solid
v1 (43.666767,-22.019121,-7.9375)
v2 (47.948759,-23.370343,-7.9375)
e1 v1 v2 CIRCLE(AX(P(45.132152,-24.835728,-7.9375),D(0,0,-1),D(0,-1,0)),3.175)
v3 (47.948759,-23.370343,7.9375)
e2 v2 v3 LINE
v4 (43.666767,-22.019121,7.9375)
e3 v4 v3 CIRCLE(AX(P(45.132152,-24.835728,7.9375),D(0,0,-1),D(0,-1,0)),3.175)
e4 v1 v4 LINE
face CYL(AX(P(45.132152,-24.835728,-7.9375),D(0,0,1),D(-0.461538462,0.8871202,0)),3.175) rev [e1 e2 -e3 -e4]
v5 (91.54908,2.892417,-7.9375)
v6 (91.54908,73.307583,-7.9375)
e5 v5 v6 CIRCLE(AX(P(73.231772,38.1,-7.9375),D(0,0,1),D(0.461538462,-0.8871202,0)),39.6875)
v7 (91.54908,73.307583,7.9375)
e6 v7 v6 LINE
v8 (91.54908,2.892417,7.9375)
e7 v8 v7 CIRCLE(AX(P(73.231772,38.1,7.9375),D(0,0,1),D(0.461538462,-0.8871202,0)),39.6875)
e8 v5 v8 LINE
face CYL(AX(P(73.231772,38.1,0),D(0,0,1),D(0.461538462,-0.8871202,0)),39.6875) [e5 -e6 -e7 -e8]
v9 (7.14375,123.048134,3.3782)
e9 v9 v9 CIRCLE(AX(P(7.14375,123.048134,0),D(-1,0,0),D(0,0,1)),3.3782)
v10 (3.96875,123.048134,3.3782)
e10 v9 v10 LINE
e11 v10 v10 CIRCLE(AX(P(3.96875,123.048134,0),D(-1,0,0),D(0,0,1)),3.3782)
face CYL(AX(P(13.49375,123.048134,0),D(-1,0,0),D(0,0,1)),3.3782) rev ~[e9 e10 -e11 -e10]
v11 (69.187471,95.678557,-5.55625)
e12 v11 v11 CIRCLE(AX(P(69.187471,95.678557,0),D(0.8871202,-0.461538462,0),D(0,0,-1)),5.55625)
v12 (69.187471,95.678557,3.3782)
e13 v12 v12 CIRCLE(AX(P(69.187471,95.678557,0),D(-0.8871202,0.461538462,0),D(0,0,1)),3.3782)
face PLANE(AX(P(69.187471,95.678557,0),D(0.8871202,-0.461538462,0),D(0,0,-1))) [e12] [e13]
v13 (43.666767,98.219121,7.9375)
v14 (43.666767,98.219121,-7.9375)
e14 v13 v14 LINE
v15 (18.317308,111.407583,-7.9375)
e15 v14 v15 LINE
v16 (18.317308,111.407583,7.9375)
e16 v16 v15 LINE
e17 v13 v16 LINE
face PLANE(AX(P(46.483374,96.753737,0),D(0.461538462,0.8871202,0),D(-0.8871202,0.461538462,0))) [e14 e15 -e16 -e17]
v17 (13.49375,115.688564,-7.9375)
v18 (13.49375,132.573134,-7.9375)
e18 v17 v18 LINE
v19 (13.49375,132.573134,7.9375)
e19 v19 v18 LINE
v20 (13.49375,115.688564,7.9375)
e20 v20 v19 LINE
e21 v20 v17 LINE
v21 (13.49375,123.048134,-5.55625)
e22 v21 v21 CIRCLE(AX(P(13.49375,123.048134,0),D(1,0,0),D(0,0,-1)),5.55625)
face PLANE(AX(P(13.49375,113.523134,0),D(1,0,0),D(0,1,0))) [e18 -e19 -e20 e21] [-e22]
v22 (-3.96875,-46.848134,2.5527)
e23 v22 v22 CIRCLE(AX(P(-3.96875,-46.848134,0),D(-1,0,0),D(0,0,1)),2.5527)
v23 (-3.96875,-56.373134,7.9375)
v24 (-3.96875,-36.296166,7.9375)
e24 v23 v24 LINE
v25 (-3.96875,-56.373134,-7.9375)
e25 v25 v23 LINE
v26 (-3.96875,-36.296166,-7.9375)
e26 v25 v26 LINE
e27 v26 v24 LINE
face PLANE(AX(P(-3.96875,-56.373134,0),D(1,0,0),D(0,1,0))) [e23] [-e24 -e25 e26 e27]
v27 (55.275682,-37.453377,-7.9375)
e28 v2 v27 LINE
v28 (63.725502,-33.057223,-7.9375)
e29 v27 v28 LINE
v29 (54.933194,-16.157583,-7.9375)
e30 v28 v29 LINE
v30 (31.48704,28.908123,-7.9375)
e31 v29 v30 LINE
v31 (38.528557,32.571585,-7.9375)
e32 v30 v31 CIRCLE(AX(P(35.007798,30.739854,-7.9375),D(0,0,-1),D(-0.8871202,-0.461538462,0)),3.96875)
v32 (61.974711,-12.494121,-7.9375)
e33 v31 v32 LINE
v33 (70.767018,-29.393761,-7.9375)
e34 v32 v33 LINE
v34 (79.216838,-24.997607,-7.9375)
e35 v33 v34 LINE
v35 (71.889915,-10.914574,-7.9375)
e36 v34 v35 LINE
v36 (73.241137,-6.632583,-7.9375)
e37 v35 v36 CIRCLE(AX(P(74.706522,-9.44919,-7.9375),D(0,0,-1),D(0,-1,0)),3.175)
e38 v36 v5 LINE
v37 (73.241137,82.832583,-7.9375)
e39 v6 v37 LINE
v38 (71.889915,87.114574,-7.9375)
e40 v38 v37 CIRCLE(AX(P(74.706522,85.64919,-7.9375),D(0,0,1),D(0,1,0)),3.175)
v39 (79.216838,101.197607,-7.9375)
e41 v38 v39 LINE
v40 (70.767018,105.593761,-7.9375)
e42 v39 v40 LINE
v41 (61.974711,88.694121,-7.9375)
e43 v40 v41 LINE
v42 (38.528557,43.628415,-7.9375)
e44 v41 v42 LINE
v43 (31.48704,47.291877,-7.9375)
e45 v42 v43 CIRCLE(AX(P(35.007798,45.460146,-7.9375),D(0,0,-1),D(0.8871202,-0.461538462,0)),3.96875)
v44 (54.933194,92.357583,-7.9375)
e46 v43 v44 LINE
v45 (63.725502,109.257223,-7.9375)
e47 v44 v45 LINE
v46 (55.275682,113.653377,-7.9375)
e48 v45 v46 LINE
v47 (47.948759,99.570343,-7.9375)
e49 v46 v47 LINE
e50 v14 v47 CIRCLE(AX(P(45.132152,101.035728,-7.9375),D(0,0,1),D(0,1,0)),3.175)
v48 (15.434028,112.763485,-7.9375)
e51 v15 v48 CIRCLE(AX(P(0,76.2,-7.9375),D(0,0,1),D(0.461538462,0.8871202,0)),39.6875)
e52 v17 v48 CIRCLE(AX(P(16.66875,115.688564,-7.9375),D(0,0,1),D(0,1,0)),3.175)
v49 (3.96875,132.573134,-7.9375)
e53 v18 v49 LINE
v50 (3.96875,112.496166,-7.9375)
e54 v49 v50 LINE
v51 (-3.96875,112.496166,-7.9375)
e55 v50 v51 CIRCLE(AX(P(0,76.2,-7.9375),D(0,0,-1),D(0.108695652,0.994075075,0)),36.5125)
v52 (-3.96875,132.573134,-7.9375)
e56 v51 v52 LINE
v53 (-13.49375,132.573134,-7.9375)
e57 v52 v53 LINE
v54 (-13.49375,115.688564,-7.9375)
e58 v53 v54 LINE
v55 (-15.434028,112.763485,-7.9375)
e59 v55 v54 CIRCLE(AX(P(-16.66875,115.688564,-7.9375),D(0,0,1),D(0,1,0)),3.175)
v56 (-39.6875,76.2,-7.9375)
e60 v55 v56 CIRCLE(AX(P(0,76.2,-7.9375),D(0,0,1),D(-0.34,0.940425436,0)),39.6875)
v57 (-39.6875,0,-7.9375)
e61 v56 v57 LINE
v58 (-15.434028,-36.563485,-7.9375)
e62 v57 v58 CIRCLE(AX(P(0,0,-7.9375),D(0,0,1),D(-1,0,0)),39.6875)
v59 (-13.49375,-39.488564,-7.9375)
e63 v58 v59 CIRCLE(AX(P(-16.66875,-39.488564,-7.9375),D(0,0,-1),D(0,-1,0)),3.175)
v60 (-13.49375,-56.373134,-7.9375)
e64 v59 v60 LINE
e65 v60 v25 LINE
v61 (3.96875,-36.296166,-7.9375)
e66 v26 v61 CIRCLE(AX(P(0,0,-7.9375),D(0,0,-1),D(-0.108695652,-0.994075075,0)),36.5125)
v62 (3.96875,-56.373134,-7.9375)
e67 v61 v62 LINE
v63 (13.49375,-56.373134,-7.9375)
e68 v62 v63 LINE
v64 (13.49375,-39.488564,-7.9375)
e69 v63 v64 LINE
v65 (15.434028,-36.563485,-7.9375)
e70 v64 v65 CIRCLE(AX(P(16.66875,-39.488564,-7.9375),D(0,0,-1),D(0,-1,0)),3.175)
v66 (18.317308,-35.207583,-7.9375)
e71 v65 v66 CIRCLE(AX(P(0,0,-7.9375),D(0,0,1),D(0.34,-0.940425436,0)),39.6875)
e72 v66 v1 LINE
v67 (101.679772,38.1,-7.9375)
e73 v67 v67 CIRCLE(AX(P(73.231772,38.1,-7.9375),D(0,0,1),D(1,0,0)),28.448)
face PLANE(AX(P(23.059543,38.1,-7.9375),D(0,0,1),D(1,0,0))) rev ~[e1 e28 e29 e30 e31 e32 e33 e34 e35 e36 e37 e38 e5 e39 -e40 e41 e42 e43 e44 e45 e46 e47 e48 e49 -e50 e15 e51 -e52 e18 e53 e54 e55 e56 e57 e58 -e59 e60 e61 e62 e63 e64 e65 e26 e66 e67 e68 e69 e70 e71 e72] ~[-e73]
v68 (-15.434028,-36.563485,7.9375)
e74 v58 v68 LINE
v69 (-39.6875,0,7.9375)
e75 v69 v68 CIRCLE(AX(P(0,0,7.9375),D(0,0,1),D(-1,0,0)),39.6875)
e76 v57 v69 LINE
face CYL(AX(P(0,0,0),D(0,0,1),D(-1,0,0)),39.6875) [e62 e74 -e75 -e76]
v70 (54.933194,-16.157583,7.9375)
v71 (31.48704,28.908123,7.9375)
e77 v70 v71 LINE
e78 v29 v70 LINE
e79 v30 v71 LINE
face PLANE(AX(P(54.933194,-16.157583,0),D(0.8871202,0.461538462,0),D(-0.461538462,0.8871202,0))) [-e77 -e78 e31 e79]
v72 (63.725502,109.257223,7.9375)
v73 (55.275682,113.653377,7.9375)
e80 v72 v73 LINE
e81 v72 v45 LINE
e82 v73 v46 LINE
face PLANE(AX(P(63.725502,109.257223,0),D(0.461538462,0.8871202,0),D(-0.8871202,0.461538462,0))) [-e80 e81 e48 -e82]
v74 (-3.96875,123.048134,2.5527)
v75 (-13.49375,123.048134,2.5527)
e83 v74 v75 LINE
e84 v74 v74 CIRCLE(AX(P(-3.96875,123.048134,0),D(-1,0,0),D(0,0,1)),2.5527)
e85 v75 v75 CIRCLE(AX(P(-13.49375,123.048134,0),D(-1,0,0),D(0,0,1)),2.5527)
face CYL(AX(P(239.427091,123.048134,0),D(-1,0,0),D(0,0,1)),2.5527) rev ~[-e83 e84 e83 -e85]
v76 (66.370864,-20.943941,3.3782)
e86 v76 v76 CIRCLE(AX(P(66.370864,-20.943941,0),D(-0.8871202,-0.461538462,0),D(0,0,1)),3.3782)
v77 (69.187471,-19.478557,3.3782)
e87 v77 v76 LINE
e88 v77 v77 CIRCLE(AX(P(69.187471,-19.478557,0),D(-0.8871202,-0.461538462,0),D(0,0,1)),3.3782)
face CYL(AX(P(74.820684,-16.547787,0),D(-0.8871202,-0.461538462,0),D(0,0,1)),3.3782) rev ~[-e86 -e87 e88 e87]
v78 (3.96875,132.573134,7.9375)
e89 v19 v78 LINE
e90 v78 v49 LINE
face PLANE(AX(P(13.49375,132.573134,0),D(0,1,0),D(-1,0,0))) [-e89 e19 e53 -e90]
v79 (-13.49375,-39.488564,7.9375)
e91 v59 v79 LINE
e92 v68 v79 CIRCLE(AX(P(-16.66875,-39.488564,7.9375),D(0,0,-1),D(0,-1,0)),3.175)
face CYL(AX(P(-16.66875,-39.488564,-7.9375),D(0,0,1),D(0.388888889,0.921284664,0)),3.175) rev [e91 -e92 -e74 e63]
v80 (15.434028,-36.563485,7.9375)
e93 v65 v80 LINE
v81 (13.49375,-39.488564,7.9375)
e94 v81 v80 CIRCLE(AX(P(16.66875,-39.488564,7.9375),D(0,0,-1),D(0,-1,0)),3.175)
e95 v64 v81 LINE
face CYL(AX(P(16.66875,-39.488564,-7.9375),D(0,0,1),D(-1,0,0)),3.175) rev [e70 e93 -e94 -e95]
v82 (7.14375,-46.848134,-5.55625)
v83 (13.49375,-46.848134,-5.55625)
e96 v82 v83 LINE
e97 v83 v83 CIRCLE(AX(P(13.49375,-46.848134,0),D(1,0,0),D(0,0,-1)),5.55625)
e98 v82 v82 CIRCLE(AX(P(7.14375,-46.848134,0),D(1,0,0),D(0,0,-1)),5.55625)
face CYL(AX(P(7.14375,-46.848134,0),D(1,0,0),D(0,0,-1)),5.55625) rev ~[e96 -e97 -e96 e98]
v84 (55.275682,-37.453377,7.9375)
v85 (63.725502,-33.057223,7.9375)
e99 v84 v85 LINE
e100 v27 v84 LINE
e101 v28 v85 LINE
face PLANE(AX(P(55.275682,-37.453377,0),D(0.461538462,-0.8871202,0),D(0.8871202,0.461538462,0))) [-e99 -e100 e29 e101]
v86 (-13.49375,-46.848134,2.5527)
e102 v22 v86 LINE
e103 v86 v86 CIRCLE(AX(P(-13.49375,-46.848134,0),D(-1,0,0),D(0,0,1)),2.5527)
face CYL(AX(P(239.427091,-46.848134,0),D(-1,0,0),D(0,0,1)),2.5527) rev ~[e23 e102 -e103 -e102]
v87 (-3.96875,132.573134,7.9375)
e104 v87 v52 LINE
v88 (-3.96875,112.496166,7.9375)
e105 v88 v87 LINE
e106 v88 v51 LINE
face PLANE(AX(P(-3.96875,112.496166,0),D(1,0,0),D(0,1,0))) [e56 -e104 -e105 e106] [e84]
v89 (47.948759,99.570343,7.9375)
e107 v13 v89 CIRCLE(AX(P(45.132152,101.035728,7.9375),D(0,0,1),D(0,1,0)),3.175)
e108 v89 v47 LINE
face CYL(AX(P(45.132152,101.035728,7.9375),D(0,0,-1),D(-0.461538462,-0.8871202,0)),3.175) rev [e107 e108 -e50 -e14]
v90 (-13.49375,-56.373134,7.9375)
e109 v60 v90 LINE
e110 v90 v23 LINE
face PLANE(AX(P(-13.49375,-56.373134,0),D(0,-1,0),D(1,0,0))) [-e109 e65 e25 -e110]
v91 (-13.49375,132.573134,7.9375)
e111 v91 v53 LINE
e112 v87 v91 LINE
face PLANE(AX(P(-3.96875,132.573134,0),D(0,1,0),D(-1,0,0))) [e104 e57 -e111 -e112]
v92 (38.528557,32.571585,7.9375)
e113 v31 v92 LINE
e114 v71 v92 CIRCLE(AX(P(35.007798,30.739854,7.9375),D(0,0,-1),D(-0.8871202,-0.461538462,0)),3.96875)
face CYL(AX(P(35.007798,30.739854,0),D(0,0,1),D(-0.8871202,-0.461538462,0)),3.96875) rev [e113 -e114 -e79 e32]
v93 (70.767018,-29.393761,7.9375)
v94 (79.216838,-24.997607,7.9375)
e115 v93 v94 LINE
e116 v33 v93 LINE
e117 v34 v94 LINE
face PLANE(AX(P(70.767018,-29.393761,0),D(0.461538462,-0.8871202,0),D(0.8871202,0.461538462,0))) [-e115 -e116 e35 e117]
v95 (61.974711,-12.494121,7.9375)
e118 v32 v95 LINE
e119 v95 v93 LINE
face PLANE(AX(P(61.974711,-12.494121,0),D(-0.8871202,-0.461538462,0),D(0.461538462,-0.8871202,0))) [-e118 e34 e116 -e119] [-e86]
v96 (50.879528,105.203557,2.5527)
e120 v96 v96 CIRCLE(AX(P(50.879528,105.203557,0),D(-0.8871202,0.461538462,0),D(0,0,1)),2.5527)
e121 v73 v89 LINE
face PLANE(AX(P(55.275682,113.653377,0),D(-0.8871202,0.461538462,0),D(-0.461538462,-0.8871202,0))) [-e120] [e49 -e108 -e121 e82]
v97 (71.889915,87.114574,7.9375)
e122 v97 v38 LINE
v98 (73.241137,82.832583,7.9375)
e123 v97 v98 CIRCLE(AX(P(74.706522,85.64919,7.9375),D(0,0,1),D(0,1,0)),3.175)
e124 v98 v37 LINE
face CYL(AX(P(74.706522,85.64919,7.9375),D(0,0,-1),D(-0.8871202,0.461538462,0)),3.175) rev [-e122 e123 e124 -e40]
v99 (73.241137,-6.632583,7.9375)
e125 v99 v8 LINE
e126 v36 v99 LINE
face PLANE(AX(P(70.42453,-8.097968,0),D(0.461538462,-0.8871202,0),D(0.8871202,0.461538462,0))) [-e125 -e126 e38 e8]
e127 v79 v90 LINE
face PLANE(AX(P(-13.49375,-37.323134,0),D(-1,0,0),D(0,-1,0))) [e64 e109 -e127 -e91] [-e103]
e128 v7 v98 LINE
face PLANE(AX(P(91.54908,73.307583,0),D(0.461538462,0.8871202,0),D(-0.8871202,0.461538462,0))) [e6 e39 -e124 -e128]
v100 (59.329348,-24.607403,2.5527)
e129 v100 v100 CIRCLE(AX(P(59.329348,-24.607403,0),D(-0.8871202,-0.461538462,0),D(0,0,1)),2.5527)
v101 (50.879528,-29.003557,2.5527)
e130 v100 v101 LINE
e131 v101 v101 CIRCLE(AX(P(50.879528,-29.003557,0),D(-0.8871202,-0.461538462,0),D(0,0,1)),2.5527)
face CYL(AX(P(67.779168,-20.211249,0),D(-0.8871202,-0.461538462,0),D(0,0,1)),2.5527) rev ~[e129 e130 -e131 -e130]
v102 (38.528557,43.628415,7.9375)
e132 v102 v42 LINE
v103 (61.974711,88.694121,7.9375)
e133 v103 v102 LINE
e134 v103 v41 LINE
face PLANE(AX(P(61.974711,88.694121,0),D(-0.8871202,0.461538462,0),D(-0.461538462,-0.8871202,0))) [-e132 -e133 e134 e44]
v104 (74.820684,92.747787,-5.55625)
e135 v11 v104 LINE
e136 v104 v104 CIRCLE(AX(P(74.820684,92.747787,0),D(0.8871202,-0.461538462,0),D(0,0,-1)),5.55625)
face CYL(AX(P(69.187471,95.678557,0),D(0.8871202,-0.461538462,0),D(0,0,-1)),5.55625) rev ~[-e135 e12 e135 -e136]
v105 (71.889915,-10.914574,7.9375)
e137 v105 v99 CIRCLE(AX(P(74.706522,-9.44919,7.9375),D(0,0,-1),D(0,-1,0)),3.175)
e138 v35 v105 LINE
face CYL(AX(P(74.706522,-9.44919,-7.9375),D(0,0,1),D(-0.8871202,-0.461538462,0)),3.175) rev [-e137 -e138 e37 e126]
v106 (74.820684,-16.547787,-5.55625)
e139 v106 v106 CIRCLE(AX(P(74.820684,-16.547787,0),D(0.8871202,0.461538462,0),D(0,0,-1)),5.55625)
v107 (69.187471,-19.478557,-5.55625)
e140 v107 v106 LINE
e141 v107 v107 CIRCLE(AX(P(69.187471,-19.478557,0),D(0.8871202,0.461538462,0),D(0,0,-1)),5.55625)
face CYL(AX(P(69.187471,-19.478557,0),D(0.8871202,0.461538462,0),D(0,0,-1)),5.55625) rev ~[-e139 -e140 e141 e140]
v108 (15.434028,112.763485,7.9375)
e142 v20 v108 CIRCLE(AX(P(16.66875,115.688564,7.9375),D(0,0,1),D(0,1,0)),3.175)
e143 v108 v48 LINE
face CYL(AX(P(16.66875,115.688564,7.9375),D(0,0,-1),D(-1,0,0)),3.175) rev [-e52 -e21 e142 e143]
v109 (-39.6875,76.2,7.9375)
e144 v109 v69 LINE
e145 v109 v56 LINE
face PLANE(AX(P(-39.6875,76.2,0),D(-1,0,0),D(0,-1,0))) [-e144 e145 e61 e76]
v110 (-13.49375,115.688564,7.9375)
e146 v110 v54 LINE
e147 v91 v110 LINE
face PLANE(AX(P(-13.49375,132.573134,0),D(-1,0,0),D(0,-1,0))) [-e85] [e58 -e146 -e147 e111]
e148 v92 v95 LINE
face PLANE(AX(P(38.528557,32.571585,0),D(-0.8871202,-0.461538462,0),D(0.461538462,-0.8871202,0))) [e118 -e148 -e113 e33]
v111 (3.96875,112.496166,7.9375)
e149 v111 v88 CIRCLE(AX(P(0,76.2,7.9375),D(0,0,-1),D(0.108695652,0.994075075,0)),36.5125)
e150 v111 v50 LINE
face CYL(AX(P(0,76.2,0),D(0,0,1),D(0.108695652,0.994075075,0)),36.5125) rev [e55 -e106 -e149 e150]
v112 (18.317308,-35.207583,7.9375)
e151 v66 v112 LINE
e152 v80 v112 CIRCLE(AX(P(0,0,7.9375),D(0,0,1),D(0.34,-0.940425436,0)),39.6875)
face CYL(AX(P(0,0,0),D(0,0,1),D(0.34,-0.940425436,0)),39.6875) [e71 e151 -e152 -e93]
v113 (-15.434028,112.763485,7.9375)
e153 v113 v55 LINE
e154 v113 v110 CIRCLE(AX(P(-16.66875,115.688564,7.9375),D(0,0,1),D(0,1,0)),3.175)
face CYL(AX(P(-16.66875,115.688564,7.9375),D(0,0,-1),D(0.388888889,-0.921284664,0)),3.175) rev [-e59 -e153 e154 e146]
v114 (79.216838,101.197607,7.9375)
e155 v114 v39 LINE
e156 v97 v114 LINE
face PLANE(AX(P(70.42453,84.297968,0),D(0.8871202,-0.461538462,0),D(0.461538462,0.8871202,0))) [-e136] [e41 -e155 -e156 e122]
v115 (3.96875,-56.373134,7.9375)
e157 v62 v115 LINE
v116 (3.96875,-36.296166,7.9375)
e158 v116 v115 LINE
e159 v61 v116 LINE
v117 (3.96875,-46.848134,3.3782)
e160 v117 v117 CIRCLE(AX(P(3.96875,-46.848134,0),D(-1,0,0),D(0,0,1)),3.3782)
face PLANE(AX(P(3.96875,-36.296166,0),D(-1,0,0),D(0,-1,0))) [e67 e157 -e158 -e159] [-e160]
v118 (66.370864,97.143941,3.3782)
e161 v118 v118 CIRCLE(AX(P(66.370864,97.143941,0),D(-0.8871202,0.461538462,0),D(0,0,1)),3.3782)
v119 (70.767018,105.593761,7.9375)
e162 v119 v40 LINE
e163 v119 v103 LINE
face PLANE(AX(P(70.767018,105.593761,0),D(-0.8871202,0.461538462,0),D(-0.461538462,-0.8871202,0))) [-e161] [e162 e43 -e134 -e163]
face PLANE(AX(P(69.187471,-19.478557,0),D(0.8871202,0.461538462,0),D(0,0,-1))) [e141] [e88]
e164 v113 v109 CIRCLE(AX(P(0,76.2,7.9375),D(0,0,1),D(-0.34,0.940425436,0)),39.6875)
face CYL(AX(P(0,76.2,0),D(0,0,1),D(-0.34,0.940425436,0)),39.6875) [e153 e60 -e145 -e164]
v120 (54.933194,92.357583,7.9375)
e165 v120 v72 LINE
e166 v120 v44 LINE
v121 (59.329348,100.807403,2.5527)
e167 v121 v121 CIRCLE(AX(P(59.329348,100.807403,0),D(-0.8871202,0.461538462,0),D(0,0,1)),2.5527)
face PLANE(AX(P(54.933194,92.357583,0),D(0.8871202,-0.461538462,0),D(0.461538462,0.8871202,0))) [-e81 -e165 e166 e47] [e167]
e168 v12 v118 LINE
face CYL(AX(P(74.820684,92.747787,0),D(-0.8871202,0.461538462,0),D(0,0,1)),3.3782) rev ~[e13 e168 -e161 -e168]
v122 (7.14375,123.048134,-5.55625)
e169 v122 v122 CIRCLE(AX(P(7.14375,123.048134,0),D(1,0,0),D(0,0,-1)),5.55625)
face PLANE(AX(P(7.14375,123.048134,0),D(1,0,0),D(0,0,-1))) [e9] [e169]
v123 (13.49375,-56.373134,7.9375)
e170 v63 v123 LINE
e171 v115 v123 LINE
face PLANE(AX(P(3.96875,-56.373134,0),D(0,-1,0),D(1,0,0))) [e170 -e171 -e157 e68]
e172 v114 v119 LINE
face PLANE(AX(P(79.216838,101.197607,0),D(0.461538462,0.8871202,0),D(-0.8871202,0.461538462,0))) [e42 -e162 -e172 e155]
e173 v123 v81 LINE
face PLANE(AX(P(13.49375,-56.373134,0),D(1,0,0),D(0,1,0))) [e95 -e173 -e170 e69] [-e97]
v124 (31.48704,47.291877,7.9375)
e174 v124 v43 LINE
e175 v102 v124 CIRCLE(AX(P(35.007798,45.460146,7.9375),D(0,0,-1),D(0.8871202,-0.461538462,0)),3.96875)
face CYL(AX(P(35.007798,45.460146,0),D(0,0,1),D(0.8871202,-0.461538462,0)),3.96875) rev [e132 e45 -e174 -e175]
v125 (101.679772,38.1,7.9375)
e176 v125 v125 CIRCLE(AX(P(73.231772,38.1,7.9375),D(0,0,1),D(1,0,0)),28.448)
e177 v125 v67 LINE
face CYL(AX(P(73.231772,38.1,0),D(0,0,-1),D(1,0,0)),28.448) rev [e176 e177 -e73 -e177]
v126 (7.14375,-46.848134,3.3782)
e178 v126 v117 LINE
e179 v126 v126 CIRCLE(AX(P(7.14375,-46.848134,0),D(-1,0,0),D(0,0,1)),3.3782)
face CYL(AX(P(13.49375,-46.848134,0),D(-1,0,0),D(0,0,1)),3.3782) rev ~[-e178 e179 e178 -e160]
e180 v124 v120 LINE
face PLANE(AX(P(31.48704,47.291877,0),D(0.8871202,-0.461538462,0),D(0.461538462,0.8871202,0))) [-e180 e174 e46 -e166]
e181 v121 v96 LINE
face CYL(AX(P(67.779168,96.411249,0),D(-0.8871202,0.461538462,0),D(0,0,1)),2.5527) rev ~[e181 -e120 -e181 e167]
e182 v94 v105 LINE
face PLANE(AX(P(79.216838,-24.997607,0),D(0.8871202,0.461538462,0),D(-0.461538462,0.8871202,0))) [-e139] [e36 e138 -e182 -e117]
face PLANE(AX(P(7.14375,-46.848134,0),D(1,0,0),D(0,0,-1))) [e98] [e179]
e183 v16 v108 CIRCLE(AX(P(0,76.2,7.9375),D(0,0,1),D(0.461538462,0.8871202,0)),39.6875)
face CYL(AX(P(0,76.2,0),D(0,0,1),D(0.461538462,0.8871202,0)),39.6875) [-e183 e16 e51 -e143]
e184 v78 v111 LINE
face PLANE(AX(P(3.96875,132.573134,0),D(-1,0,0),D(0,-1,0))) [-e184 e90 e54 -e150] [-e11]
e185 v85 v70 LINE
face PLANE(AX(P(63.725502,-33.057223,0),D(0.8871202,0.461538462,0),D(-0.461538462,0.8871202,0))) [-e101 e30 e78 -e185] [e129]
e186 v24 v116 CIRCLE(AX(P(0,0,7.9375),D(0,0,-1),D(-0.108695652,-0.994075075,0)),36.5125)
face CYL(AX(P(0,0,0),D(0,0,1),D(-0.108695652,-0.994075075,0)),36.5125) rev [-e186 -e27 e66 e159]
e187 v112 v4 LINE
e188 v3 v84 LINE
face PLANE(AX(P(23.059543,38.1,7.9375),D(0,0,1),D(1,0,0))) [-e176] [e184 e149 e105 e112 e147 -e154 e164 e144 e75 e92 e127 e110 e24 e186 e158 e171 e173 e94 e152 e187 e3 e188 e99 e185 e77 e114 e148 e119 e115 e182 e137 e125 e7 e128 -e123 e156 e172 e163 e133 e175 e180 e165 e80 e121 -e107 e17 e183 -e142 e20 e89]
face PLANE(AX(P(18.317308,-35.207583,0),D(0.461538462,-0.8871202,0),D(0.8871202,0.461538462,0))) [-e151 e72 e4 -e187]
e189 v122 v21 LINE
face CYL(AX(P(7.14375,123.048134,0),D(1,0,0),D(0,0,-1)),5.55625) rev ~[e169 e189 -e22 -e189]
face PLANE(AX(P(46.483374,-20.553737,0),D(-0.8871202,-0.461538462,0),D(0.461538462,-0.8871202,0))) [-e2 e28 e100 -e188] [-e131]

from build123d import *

# Parameters (mm, degrees)
SKETCH1_R                                        = 28.448
EXTRUDE1_DEPTH                                   = 7.9375
CBORE_FOR_1_4_SOCKET_HEAD_CAP_SCREW1_D           = 6.7564
CBORE_FOR_1_4_SOCKET_HEAD_CAP_SCREW1_DEPTH       = 9.525
CBORE_FOR_1_4_SOCKET_HEAD_CAP_SCREW1_CBORE_D     = 11.1125
CBORE_FOR_1_4_SOCKET_HEAD_CAP_SCREW1_CBORE_DEPTH = 6.35
F_1_4_20_TAPPED_HOLE1_D                          = 5.1054
CBORE_FOR_1_4_SOCKET_HEAD_CAP_SCREW3_D           = 6.7564
CBORE_FOR_1_4_SOCKET_HEAD_CAP_SCREW3_DEPTH       = 9.525
CBORE_FOR_1_4_SOCKET_HEAD_CAP_SCREW3_CBORE_D     = 11.1125
CBORE_FOR_1_4_SOCKET_HEAD_CAP_SCREW3_CBORE_DEPTH = 6.35
F_1_4_20_TAPPED_HOLE4_D                          = 5.1054
CBORE_FOR_1_4_SOCKET_HEAD_CAP_SCREW4_D           = 6.7564
CBORE_FOR_1_4_SOCKET_HEAD_CAP_SCREW4_DEPTH       = 9.525
CBORE_FOR_1_4_SOCKET_HEAD_CAP_SCREW4_CBORE_D     = 11.1125
CBORE_FOR_1_4_SOCKET_HEAD_CAP_SCREW4_CBORE_DEPTH = 6.35
F_1_4_20_TAPPED_HOLE5_D                          = 5.1054
F_1_4_20_TAPPED_HOLE5_DEPTH                      = 9.525
CBORE_FOR_1_4_SOCKET_HEAD_CAP_SCREW5_D           = 6.7564
CBORE_FOR_1_4_SOCKET_HEAD_CAP_SCREW5_DEPTH       = 9.525
CBORE_FOR_1_4_SOCKET_HEAD_CAP_SCREW5_CBORE_D     = 11.1125
CBORE_FOR_1_4_SOCKET_HEAD_CAP_SCREW5_CBORE_DEPTH = 6.35
F_1_4_20_TAPPED_HOLE6_D                          = 5.1054
F_1_4_20_TAPPED_HOLE6_DEPTH                      = 9.525
FILLET1_R                                        = 3.175


with BuildPart() as part:
    # Sketch1 → Extrude1 (new, symmetric)
    with BuildSketch(Plane.XY):
        with BuildLine():
            Line((-39.6875, 76.2), (-39.6875, 0))
            ThreePointArc((-39.6875, 0), (-32.485618813, -22.798733003), (-13.49375, -37.323134477))
            Line((-13.49375, -37.323134477), (-13.49375, -56.373134477))
            Line((-13.49375, -56.373134477), (-3.96875, -56.373134477))
            Line((-3.96875, -56.373134477), (-3.96875, -36.296166184))
            ThreePointArc((-3.96875, -36.296166184), (0, 36.5125), (3.96875, -36.296166184))
            Line((3.96875, -36.296166184), (3.96875, -56.373134477))
            Line((3.96875, -56.373134477), (13.49375, -56.373134477))
            Line((13.49375, -56.373134477), (13.49375, -37.323134477))
            ThreePointArc((13.49375, -37.323134477), (15.940663019, -36.345466275), (18.317307692, -35.207582921))
            Line((18.317307692, -35.207582921), (46.483374029, -20.553736767))
            Line((46.483374029, -20.553736767), (55.275681722, -37.45337657))
            Line((55.275681722, -37.45337657), (63.725501623, -33.057222723))
            Line((63.725501623, -33.057222723), (54.93319393, -16.157582921))
            Line((54.93319393, -16.157582921), (31.487040084, 28.908123218))
            ThreePointArc((31.487040084, 28.908123218), (33.176067607, 34.260612279), (38.528556668, 32.571584756))
            Line((38.528556668, 32.571584756), (61.974710515, -12.494121383))
            Line((61.974710515, -12.494121383), (70.767018207, -29.393761185))
            Line((70.767018207, -29.393761185), (79.216838108, -24.997607339))
            Line((79.216838108, -24.997607339), (70.424530416, -8.097967537))
            Line((70.424530416, -8.097967537), (91.549080168, 2.892417079))
            ThreePointArc((91.549080168, 2.892417079), (112.919272476, 38.1), (91.549080168, 73.307582921))
            Line((91.549080168, 73.307582921), (70.424530416, 84.297967537))
            Line((70.424530416, 84.297967537), (79.216838108, 101.197607339))
            Line((79.216838108, 101.197607339), (70.767018207, 105.593761185))
            Line((70.767018207, 105.593761185), (61.974710515, 88.694121383))
            Line((61.974710515, 88.694121383), (38.528556668, 43.628415244))
            ThreePointArc((38.528556668, 43.628415244), (33.176067607, 41.939387721), (31.487040084, 47.291876782))
            Line((31.487040084, 47.291876782), (54.93319393, 92.357582921))
            Line((54.93319393, 92.357582921), (63.725501623, 109.257222723))
            Line((63.725501623, 109.257222723), (55.275681722, 113.65337657))
            Line((55.275681722, 113.65337657), (46.483374029, 96.753736767))
            Line((46.483374029, 96.753736767), (18.317307692, 111.407582921))
            ThreePointArc((18.317307692, 111.407582921), (15.940663019, 112.545466275), (13.49375, 113.523134477))
            Line((13.49375, 113.523134477), (13.49375, 132.573134477))
            Line((13.49375, 132.573134477), (3.96875, 132.573134477))
            Line((3.96875, 132.573134477), (3.96875, 112.496166184))
            ThreePointArc((3.96875, 112.496166184), (0, 39.6875), (-3.96875, 112.496166184))
            Line((-3.96875, 112.496166184), (-3.96875, 132.573134477))
            Line((-3.96875, 132.573134477), (-13.49375, 132.573134477))
            Line((-13.49375, 132.573134477), (-13.49375, 113.523134477))
            ThreePointArc((-13.49375, 113.523134477), (-32.485618813, 98.998733003), (-39.6875, 76.2))
        make_face()
        with Locations((73.231772476, 38.1)):
            Circle(SKETCH1_R, mode=Mode.SUBTRACT)
    extrude(amount=EXTRUDE1_DEPTH, both=True)

    # CBORE for 1/4 Socket Head Cap Screw1
    with Locations(Plane(origin=(13.49375, 0, 0), x_dir=(0, 0, -1), z_dir=(1, 0, 0))):
        with Locations((0, 123.048134477)):
            CounterBoreHole(CBORE_FOR_1_4_SOCKET_HEAD_CAP_SCREW1_D / 2, CBORE_FOR_1_4_SOCKET_HEAD_CAP_SCREW1_CBORE_D / 2, CBORE_FOR_1_4_SOCKET_HEAD_CAP_SCREW1_CBORE_DEPTH, depth=CBORE_FOR_1_4_SOCKET_HEAD_CAP_SCREW1_DEPTH)

    # 1/4-20 Tapped Hole1 (through all)
    with Locations(Plane(origin=(-3.96875, 0, 0), x_dir=(0, 0, -1), z_dir=(1, 0, 0))):
        with Locations((0, 123.048134477)):
            Hole(F_1_4_20_TAPPED_HOLE1_D / 2)

    # CBORE for 1/4 Socket Head Cap Screw3
    with Locations(Plane(origin=(13.49375, 0, 0), x_dir=(0, 0, -1), z_dir=(1, 0, 0))):
        with Locations((0, -46.848134477)):
            CounterBoreHole(CBORE_FOR_1_4_SOCKET_HEAD_CAP_SCREW3_D / 2, CBORE_FOR_1_4_SOCKET_HEAD_CAP_SCREW3_CBORE_D / 2, CBORE_FOR_1_4_SOCKET_HEAD_CAP_SCREW3_CBORE_DEPTH, depth=CBORE_FOR_1_4_SOCKET_HEAD_CAP_SCREW3_DEPTH)

    # 1/4-20 Tapped Hole4 (through all)
    with Locations(Plane(origin=(-3.96875, 0, 0), x_dir=(0, 0, -1), z_dir=(1, 0, 0))):
        with Locations((0, -46.848134477)):
            Hole(F_1_4_20_TAPPED_HOLE4_D / 2)

    # CBORE for 1/4 Socket Head Cap Screw4
    with Locations(Plane(origin=(20.907887704, -10.877662722, 0), x_dir=(0, 0, -1), z_dir=(0.8871201995900625, -0.46153846153845923, 0))):
        with Locations((0, 116.811059209)):
            CounterBoreHole(CBORE_FOR_1_4_SOCKET_HEAD_CAP_SCREW4_D / 2, CBORE_FOR_1_4_SOCKET_HEAD_CAP_SCREW4_CBORE_D / 2, CBORE_FOR_1_4_SOCKET_HEAD_CAP_SCREW4_CBORE_DEPTH, depth=CBORE_FOR_1_4_SOCKET_HEAD_CAP_SCREW4_DEPTH)

    # 1/4-20 Tapped Hole5
    with Locations(Plane(origin=(5.416551219, -2.818047337, 0), x_dir=(0, 0, -1), z_dir=(0.8871201995900618, -0.4615384615384606, 0))):
        with Locations((0, 116.811059209)):
            Hole(F_1_4_20_TAPPED_HOLE5_D / 2, depth=F_1_4_20_TAPPED_HOLE5_DEPTH)

    # CBORE for 1/4 Socket Head Cap Screw5
    with Locations(Plane(origin=(52.107222723, 27.109615385, 0), x_dir=(0, 0, -1), z_dir=(0.8871201995900624, 0.46153846153845934, 0))):
        with Locations((0, -49.2125)):
            CounterBoreHole(CBORE_FOR_1_4_SOCKET_HEAD_CAP_SCREW5_D / 2, CBORE_FOR_1_4_SOCKET_HEAD_CAP_SCREW5_CBORE_D / 2, CBORE_FOR_1_4_SOCKET_HEAD_CAP_SCREW5_CBORE_DEPTH, depth=CBORE_FOR_1_4_SOCKET_HEAD_CAP_SCREW5_DEPTH)

    # 1/4-20 Tapped Hole6
    with Locations(Plane(origin=(36.615886238, 19.05, 0), x_dir=(0, 0, -1), z_dir=(0.8871201995900614, 0.4615384615384613, 0))):
        with Locations((0, -49.2125)):
            Hole(F_1_4_20_TAPPED_HOLE6_D / 2, depth=F_1_4_20_TAPPED_HOLE6_DEPTH)

    # Fillet1
    fillet1_edges = [part.edges().sort_by_distance(p)[0] for p in [
        (-13.49375, 113.523134477, 0),
        (13.49375, 113.523134477, 0),
        (46.483374029, 96.753736767, 0),
        (70.424530416, 84.297967537, 0),
        (70.424530416, -8.097967537, 0),
        (46.483374029, -20.553736767, 0),
        (13.49375, -37.323134477, 0),
        (-13.49375, -37.323134477, 0),
    ]]
    fillet(fillet1_edges, radius=FILLET1_R)


solid = part.part
